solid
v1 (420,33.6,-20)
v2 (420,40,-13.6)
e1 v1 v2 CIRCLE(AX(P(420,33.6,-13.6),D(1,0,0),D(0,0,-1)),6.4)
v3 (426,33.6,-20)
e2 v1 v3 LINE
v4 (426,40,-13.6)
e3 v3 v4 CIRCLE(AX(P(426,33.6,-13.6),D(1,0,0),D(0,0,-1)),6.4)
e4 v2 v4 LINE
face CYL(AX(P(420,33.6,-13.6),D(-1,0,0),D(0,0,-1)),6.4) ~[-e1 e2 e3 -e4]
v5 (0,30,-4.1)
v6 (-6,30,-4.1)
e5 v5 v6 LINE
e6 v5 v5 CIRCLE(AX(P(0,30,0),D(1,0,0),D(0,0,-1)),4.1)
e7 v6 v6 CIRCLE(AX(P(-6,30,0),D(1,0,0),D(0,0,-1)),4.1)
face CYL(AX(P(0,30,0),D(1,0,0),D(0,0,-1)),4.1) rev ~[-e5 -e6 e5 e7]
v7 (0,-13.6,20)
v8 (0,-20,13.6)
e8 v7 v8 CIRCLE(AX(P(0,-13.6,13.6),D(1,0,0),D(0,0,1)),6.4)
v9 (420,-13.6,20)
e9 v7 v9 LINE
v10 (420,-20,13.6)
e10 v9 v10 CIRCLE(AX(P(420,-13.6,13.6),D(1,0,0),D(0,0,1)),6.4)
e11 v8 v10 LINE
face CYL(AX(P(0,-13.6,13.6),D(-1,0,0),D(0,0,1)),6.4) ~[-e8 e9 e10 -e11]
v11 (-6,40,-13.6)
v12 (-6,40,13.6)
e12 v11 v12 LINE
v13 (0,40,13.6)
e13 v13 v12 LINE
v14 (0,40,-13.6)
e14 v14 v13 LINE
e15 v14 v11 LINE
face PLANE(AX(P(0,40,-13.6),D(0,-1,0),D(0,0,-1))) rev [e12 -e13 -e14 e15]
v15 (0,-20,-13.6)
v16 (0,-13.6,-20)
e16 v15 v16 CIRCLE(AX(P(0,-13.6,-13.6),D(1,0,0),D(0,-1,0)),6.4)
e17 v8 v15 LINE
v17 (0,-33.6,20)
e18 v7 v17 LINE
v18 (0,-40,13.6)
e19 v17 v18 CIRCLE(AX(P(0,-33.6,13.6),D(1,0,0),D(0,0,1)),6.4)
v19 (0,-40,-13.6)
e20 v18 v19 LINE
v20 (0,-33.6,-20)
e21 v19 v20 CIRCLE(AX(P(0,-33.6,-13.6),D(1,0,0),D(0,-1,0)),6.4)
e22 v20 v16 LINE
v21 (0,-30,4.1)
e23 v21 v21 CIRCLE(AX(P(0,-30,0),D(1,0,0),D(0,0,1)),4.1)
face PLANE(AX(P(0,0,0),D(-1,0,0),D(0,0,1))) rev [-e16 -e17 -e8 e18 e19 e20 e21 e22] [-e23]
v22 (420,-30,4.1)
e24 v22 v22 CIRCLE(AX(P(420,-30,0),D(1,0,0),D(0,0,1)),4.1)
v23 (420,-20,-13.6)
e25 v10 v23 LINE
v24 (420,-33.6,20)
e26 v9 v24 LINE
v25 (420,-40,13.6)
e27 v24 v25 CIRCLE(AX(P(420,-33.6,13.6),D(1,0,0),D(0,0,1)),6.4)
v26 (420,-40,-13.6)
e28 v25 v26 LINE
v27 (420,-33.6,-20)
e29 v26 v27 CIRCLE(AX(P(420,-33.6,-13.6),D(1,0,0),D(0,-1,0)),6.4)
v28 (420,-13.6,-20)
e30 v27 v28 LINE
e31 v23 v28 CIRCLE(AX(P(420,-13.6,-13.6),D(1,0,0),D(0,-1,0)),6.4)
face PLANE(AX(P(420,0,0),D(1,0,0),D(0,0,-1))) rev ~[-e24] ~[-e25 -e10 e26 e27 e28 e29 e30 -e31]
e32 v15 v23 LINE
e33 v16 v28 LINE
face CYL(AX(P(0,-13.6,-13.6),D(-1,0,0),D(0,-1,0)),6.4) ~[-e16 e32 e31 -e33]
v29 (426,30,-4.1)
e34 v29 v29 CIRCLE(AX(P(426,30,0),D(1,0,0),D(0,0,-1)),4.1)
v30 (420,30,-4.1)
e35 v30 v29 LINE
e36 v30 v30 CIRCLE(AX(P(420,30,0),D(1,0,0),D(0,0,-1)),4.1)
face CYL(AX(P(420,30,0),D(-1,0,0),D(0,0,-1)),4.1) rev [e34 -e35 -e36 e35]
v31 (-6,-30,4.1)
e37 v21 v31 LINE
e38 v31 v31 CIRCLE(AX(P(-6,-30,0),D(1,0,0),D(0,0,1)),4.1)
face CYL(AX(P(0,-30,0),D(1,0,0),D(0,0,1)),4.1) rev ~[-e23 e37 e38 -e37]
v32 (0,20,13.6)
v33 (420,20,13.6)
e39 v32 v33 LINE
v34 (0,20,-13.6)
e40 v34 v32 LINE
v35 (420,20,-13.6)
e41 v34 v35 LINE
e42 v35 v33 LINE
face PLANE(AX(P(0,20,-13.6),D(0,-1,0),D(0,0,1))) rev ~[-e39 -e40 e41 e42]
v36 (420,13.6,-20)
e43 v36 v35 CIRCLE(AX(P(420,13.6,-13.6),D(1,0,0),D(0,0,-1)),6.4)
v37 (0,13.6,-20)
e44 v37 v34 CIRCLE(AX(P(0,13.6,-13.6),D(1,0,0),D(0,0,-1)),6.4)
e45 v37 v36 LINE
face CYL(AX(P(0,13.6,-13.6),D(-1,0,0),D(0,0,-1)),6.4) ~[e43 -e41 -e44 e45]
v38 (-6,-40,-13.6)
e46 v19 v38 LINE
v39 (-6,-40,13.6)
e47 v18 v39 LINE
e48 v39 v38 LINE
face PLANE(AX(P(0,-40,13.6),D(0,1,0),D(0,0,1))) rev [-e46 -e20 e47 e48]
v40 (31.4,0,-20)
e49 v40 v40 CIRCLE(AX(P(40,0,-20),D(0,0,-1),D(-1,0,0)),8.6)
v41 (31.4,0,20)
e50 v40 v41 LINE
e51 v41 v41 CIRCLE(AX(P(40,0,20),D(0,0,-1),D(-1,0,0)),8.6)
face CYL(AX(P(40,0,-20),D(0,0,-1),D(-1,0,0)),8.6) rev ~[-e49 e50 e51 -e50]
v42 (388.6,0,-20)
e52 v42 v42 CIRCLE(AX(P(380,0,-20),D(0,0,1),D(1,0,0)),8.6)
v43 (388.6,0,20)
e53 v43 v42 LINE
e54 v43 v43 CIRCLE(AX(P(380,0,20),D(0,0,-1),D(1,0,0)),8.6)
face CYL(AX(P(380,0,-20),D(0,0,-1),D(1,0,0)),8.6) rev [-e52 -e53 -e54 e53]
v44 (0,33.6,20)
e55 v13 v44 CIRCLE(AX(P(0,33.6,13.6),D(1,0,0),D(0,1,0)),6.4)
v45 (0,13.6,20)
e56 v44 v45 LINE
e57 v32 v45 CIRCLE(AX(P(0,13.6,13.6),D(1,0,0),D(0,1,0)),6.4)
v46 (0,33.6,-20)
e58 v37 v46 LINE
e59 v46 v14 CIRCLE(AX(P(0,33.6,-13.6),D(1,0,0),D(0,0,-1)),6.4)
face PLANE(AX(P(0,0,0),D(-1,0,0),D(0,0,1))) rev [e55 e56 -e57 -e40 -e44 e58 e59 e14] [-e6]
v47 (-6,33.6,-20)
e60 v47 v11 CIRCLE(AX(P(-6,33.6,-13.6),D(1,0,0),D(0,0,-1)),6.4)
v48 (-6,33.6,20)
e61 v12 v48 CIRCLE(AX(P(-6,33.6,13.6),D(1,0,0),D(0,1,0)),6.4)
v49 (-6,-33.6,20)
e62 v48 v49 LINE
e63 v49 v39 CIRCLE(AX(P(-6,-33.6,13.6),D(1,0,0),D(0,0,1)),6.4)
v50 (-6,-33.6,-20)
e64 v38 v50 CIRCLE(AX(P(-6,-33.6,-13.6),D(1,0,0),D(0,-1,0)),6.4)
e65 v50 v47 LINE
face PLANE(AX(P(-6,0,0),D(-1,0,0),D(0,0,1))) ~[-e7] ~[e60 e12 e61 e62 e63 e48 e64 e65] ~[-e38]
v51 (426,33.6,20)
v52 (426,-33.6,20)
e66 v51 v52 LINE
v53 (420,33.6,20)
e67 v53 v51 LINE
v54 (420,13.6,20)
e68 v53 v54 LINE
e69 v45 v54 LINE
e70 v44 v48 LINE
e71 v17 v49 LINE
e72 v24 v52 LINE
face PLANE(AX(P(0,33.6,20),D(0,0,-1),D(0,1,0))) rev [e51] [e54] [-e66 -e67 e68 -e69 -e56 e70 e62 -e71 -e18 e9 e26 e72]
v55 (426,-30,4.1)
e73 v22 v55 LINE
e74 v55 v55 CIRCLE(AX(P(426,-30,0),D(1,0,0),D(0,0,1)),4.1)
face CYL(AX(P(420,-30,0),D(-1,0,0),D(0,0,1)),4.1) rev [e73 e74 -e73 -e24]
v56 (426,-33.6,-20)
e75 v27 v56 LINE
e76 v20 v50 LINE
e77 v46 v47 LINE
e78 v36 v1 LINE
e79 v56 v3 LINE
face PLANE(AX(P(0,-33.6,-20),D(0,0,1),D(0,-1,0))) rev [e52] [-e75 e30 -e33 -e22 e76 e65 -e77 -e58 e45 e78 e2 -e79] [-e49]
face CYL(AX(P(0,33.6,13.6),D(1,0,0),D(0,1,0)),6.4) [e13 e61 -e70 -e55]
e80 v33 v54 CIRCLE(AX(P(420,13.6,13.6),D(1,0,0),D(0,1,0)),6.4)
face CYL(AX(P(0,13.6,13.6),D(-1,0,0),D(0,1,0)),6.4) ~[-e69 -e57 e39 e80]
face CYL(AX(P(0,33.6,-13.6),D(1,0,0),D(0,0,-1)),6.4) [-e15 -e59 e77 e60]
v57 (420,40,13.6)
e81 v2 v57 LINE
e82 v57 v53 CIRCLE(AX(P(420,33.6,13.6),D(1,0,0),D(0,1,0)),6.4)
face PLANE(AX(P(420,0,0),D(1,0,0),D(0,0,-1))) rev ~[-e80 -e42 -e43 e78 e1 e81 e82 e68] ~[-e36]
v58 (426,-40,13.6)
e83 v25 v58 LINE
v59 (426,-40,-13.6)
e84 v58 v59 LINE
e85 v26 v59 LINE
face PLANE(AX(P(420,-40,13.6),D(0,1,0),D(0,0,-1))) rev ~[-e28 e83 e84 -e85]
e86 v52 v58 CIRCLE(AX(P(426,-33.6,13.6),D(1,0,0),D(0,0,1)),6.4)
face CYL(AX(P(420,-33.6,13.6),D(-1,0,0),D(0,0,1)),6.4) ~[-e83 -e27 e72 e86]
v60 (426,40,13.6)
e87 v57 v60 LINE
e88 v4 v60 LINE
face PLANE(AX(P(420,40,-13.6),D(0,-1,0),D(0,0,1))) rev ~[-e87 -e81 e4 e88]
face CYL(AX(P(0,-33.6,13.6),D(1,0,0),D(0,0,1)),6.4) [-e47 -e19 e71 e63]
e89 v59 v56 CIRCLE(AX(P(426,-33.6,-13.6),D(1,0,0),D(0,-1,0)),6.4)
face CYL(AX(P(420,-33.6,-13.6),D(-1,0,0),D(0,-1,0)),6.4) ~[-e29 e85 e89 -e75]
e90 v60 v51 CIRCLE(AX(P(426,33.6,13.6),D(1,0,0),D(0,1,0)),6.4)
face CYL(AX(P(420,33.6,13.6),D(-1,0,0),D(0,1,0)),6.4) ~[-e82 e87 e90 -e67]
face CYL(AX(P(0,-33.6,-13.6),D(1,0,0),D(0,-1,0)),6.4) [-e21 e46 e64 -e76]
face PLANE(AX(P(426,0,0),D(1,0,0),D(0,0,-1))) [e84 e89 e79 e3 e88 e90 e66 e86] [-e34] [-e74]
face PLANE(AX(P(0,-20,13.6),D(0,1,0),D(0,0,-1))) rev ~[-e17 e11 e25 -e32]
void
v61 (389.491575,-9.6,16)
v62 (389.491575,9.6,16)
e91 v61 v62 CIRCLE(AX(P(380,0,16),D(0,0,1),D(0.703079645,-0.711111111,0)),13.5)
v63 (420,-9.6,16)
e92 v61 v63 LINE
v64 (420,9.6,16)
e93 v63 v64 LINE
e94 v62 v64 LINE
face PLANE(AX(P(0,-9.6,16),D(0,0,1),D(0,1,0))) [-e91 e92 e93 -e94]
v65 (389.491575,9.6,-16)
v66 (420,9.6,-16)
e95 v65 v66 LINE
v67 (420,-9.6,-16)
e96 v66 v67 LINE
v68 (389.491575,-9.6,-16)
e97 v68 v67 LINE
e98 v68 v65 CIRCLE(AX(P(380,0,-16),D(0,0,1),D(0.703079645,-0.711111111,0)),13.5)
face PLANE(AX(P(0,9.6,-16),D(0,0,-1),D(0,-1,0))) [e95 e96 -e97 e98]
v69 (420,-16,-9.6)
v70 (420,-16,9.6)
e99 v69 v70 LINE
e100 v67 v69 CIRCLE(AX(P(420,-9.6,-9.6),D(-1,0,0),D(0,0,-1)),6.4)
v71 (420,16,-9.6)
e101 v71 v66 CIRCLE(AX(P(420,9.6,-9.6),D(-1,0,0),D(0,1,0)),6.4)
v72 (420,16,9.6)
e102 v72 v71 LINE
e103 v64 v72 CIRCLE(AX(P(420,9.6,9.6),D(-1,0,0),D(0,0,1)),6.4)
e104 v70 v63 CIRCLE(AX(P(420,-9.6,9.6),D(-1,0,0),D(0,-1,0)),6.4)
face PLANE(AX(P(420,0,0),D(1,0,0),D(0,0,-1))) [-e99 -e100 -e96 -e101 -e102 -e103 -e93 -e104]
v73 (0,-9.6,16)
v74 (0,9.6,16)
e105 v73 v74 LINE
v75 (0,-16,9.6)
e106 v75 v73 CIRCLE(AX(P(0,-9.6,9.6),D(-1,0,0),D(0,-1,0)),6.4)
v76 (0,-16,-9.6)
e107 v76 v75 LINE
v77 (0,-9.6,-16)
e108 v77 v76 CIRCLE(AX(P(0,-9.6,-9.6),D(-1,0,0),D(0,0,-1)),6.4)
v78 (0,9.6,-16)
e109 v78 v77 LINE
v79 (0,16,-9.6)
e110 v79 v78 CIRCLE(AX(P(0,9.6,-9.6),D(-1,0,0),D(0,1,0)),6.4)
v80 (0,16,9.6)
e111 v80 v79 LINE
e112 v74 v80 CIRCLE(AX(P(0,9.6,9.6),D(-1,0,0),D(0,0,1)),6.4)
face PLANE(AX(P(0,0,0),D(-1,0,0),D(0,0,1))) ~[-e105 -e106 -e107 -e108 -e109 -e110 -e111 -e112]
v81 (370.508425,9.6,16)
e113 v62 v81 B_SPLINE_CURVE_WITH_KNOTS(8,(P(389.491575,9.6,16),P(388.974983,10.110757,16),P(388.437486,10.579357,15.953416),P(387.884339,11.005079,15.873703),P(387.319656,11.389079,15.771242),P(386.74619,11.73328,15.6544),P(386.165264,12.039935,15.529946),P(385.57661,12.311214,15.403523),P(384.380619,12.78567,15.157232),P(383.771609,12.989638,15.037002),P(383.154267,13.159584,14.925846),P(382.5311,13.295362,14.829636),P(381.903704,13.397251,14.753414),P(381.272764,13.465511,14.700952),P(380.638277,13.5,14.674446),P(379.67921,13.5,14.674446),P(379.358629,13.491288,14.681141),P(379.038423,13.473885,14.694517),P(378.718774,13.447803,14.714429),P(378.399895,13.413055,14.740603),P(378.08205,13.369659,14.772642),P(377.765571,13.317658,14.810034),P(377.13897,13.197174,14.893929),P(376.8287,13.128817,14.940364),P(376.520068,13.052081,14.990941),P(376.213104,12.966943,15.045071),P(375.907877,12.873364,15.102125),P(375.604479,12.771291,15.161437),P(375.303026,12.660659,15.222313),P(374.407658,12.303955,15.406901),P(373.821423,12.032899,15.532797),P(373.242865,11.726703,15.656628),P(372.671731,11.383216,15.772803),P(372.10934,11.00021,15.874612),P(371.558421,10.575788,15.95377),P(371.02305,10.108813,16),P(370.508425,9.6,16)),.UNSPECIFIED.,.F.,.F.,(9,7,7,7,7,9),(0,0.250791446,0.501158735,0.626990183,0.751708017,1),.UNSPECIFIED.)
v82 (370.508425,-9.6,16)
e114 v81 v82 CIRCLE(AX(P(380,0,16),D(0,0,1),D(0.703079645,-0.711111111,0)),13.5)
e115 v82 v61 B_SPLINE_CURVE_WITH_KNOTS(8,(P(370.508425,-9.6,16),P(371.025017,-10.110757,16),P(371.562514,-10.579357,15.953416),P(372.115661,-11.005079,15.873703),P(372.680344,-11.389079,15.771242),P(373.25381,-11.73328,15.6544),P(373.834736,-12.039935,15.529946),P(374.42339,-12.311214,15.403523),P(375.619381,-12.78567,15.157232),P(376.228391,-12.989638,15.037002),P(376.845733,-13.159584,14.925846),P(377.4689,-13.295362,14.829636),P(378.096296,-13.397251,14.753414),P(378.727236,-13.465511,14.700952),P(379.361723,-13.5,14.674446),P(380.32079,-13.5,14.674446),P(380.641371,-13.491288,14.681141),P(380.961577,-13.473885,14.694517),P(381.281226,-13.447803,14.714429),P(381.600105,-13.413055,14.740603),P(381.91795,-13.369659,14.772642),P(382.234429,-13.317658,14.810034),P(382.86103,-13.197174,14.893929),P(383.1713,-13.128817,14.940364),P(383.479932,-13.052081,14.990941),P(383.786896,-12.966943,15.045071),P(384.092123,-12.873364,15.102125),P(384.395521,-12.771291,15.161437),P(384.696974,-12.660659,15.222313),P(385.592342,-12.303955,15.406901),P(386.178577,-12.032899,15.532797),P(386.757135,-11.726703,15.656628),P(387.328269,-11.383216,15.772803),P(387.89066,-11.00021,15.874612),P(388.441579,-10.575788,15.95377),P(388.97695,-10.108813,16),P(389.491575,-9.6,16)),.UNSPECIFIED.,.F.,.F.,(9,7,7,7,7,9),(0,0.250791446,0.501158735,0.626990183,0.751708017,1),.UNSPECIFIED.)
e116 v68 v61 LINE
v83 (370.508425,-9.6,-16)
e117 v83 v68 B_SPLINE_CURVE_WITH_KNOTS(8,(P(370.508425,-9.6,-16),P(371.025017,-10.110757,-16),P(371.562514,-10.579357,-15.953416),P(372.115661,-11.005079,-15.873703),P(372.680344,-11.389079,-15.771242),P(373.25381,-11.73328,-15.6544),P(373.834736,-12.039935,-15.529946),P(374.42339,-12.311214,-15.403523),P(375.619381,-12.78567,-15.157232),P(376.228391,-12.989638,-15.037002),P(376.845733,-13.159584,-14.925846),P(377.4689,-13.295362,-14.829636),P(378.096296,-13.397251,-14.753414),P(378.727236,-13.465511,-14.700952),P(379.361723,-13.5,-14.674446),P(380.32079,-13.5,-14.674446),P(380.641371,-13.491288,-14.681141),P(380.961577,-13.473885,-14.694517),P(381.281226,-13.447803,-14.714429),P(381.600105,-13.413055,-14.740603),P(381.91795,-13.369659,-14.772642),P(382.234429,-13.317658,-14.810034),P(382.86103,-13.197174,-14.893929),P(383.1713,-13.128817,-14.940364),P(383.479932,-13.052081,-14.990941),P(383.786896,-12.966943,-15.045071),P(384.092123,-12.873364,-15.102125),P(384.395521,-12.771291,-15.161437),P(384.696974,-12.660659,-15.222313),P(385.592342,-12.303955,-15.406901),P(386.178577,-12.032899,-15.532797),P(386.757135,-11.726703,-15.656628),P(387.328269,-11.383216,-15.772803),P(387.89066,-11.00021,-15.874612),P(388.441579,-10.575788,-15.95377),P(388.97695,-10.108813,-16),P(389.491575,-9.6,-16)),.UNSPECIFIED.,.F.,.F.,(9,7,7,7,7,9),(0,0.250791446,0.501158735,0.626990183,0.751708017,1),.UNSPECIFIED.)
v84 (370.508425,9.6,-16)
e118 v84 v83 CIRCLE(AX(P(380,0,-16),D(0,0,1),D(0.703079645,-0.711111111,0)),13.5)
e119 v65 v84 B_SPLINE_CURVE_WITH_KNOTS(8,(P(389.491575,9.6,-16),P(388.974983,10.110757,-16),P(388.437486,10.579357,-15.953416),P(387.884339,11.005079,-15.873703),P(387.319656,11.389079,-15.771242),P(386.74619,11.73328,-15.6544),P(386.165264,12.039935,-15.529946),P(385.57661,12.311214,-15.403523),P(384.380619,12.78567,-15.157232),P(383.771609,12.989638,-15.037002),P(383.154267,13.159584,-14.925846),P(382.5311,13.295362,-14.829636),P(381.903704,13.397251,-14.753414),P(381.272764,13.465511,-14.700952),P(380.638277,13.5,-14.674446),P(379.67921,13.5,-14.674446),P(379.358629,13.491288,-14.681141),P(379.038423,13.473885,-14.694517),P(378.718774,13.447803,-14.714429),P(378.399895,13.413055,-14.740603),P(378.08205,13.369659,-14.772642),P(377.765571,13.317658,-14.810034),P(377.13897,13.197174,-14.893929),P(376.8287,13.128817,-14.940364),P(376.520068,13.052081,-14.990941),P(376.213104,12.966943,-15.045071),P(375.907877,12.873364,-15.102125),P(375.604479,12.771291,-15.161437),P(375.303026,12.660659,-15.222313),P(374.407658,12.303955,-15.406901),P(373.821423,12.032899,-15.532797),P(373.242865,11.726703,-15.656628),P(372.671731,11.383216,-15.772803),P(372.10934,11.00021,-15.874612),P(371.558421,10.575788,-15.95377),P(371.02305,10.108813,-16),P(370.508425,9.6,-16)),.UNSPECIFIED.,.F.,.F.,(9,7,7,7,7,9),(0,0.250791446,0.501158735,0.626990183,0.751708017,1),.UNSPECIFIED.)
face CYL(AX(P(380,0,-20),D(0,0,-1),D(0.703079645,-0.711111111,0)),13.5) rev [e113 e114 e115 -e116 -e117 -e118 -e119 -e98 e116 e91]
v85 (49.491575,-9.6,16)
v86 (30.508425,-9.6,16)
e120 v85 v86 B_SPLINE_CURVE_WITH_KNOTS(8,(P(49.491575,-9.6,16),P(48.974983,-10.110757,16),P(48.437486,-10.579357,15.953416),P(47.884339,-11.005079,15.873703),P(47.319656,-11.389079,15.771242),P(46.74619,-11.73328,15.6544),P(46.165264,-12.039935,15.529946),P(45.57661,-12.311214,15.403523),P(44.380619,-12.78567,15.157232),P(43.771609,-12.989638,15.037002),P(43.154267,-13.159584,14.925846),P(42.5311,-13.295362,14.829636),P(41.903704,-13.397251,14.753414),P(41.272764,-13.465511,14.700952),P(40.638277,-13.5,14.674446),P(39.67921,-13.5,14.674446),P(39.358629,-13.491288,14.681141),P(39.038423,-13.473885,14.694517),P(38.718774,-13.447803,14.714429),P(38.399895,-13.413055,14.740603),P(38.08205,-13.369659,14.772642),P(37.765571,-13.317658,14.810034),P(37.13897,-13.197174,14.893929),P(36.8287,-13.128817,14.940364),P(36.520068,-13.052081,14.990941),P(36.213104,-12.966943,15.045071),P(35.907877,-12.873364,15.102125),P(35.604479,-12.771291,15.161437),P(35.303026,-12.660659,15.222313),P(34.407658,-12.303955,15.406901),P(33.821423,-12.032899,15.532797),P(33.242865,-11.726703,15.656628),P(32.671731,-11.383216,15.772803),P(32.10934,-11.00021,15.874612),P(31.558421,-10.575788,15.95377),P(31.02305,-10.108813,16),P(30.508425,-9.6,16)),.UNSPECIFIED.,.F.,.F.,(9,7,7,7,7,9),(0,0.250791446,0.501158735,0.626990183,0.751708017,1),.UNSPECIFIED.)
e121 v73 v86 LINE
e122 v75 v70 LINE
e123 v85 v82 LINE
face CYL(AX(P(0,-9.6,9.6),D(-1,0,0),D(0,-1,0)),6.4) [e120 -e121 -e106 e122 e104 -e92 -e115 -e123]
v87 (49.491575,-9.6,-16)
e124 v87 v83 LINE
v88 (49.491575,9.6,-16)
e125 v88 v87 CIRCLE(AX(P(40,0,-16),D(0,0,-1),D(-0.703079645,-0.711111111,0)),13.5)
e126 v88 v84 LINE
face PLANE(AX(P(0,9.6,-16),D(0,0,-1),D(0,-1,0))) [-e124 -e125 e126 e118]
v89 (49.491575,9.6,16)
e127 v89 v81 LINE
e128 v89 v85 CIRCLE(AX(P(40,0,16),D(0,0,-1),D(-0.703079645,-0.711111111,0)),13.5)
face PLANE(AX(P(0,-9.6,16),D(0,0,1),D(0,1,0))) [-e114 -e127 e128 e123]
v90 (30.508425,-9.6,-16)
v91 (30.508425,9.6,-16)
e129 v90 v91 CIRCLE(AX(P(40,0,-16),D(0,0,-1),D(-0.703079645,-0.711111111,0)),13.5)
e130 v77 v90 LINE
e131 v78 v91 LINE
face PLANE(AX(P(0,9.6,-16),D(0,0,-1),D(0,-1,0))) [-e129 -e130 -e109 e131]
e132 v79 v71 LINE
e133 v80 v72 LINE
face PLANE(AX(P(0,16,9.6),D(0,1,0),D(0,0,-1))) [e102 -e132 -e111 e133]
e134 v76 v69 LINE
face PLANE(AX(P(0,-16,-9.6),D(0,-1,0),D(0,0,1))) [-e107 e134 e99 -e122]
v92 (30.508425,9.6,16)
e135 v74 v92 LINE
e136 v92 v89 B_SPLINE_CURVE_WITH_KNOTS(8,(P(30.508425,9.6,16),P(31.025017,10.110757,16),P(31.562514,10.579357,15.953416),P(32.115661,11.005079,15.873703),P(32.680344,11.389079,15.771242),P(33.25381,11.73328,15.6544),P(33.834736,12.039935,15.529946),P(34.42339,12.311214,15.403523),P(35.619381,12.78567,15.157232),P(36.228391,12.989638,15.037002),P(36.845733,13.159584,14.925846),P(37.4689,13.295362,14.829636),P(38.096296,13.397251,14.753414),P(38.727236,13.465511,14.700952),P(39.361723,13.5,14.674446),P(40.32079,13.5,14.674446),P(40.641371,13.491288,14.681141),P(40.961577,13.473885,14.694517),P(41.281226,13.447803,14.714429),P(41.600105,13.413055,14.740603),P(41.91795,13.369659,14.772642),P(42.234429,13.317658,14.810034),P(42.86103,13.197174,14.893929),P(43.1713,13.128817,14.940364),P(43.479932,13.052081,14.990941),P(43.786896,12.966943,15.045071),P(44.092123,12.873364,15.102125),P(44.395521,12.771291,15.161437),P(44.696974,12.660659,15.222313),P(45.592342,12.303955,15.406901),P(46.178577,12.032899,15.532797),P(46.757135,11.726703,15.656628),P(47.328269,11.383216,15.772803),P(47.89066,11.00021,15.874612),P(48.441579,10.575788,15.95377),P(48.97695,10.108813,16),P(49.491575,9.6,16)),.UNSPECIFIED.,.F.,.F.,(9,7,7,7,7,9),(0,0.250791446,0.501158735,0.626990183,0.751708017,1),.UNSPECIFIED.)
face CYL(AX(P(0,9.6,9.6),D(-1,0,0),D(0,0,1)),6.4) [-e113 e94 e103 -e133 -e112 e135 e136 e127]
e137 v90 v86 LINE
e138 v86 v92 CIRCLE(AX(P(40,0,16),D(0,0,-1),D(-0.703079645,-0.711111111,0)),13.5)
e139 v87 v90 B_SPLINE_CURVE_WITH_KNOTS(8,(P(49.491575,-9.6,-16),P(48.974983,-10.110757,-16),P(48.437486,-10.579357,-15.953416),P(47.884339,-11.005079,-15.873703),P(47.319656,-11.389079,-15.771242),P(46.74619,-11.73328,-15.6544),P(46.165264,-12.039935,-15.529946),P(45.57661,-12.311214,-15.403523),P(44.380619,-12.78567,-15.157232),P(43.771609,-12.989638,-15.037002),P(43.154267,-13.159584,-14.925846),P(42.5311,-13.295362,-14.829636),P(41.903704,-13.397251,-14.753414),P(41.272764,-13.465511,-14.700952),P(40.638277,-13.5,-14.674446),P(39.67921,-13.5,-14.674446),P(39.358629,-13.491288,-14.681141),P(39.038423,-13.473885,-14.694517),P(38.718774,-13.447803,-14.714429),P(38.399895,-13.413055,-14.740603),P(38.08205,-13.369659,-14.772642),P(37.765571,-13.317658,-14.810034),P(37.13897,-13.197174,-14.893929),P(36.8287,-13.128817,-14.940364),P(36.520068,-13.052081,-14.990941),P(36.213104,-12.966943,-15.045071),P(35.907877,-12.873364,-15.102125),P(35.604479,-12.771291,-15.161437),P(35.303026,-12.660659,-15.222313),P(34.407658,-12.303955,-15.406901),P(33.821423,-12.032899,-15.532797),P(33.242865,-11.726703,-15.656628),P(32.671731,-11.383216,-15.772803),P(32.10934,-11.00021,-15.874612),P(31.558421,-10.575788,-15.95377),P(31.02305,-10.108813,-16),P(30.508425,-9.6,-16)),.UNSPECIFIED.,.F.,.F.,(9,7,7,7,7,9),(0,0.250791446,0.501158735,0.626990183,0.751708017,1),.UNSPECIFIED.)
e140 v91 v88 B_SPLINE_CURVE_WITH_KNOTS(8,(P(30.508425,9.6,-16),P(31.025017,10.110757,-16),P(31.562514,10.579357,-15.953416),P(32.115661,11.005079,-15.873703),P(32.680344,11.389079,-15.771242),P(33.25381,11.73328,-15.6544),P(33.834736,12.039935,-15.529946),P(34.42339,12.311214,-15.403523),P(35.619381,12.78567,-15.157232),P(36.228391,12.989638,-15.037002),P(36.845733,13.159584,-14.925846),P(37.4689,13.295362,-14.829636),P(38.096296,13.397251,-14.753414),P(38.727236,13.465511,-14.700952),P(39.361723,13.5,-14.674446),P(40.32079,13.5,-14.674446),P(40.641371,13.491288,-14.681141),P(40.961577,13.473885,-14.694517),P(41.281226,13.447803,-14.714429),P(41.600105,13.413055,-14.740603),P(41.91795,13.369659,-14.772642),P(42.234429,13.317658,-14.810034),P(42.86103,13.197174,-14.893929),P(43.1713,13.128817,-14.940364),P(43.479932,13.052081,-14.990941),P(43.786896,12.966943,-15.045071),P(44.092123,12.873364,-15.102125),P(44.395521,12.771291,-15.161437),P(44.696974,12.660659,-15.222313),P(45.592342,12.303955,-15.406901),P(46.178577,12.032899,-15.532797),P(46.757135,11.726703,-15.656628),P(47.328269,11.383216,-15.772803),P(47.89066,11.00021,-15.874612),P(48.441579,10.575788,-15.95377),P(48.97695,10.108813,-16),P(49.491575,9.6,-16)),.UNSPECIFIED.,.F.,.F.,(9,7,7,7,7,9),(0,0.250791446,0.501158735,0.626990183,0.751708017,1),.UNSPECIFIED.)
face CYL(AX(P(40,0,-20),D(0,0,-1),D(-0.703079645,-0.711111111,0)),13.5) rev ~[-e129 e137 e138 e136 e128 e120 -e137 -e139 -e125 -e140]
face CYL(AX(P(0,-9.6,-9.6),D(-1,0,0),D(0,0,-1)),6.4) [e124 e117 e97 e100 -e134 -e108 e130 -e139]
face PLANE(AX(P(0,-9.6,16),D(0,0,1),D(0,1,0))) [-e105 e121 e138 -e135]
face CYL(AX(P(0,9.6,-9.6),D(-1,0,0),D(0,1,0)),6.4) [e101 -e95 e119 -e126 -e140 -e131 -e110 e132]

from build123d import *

# Parameters (mm, degrees)
DODANIE_WYCI_GNI_CIE2_DEPTH = 420
SZKIC4_R                    = 4.1
DODANIE_WYCI_GNI_CIE3_DEPTH = 6
SZKIC6_R                    = 8.6
WYTNIJ_WYCI_GNI_CIE1_DEPTH  = 430.73945595
DODANIE_WYCI_GNI_CIE5_REACH = 431.739
SZKIC6_3_R                  = 13.5
SZKIC6_3_R_2                = 8.6


with BuildPart() as part:
    # Szkic3 → Dodanie-wyciągnięcie2 (new body)
    with BuildSketch(Plane(origin=(0, 0, 0), x_dir=(0, 0, -1), z_dir=(1, 0, 0))):
        with BuildLine():
            Line((-13.6, -20), (13.6, -20))
            ThreePointArc((13.6, -20), (18.1254834, -18.1254834), (20, -13.6))
            Line((20, -13.6), (20, 13.6))
            ThreePointArc((20, 13.6), (18.1254834, 18.1254834), (13.6, 20))
            Line((13.6, 20), (-13.6, 20))
            ThreePointArc((-13.6, 20), (-18.1254834, 18.1254834), (-20, 13.6))
            Line((-20, 13.6), (-20, -13.6))
            ThreePointArc((-20, -13.6), (-18.1254834, -18.1254834), (-13.6, -20))
        make_face()
        with BuildLine():
            Line((-9.6, 16), (9.6, 16))
            ThreePointArc((9.6, 16), (14.1254834, 14.1254834), (16, 9.6))
            Line((16, 9.6), (16, -9.6))
            ThreePointArc((16, -9.6), (14.1254834, -14.1254834), (9.6, -16))
            Line((9.6, -16), (-9.6, -16))
            ThreePointArc((-9.6, -16), (-14.1254834, -14.1254834), (-16, -9.6))
            Line((-16, -9.6), (-16, 9.6))
            ThreePointArc((-16, 9.6), (-14.1254834, 14.1254834), (-9.6, 16))
        make_face(mode=Mode.SUBTRACT)
    extrude(amount=DODANIE_WYCI_GNI_CIE2_DEPTH)

    # Szkic4 → Dodanie-wyciągnięcie3 (add)
    with BuildSketch(Plane(origin=(420, 0, 0), x_dir=(0, 0, -1), z_dir=(1, 0, 0))):
        with BuildLine():
            Line((-13.6, -40), (13.6, -40))
            ThreePointArc((13.6, -40), (18.1254834, -38.1254834), (20, -33.6))
            Line((20, -33.6), (20, 33.6))
            ThreePointArc((20, 33.6), (18.1254834, 38.1254834), (13.6, 40))
            Line((13.6, 40), (-13.6, 40))
            ThreePointArc((-13.6, 40), (-18.1254834, 38.1254834), (-20, 33.6))
            Line((-20, 33.6), (-20, -33.6))
            ThreePointArc((-20, -33.6), (-18.1254834, -38.1254834), (-13.6, -40))
        make_face()
        with Locations((0, 30)):
            Circle(SZKIC4_R, mode=Mode.SUBTRACT)
        with Locations((0, -30)):
            Circle(SZKIC4_R, mode=Mode.SUBTRACT)
    dodanie_wyci_gni_cie3 = extrude(amount=DODANIE_WYCI_GNI_CIE3_DEPTH)

    # Lustro4: Dodanie-wyciągnięcie3 across plane
    add(dodanie_wyci_gni_cie3.mirror(Plane(origin=(210, 0, 0), x_dir=(0, 0, 1), z_dir=(1, 0, 0))))

    # Szkic6 → Wytnij-wyciągnięcie1 (cut, through all)
    with BuildSketch(Plane(origin=(0, 0, -20), x_dir=(-1, 0, 0), z_dir=(0, 0, -1))):
        with Locations((-40, 0)):
            Circle(SZKIC6_R)
    wytnij_wyci_gni_cie1 = extrude(amount=-WYTNIJ_WYCI_GNI_CIE1_DEPTH, mode=Mode.SUBTRACT)

    # Szkic6<3> → Dodanie-wyciągnięcie5 (add, up to next)
    with BuildSketch(Plane(origin=(0, 0, -20), x_dir=(-1, 0, 0), z_dir=(0, 0, -1)), mode=Mode.PRIVATE) as dodanie_wyci_gni_cie5_sk1:
        with Locations((-40, 0)):
            Circle(SZKIC6_3_R)
        with Locations((-40, 0)):
            Circle(SZKIC6_3_R_2, mode=Mode.SUBTRACT)
    dodanie_wyci_gni_cie5_tool1 = extrude(dodanie_wyci_gni_cie5_sk1.sketch, amount=-DODANIE_WYCI_GNI_CIE5_REACH, mode=Mode.PRIVATE) - part.part
    dodanie_wyci_gni_cie5 = dodanie_wyci_gni_cie5_tool1.solids().sort_by_distance((53.118162, 0, -20))[0]
    add(dodanie_wyci_gni_cie5)

    # Lustro6: Wytnij-wyciągnięcie1, Dodanie-wyciągnięcie5 across plane
    add(wytnij_wyci_gni_cie1.mirror(Plane(origin=(210, 0, 0), x_dir=(0, 0, 1), z_dir=(1, 0, 0))), mode=Mode.SUBTRACT)
    add(dodanie_wyci_gni_cie5.mirror(Plane(origin=(210, 0, 0), x_dir=(0, 0, 1), z_dir=(1, 0, 0))))


solid = part.part
